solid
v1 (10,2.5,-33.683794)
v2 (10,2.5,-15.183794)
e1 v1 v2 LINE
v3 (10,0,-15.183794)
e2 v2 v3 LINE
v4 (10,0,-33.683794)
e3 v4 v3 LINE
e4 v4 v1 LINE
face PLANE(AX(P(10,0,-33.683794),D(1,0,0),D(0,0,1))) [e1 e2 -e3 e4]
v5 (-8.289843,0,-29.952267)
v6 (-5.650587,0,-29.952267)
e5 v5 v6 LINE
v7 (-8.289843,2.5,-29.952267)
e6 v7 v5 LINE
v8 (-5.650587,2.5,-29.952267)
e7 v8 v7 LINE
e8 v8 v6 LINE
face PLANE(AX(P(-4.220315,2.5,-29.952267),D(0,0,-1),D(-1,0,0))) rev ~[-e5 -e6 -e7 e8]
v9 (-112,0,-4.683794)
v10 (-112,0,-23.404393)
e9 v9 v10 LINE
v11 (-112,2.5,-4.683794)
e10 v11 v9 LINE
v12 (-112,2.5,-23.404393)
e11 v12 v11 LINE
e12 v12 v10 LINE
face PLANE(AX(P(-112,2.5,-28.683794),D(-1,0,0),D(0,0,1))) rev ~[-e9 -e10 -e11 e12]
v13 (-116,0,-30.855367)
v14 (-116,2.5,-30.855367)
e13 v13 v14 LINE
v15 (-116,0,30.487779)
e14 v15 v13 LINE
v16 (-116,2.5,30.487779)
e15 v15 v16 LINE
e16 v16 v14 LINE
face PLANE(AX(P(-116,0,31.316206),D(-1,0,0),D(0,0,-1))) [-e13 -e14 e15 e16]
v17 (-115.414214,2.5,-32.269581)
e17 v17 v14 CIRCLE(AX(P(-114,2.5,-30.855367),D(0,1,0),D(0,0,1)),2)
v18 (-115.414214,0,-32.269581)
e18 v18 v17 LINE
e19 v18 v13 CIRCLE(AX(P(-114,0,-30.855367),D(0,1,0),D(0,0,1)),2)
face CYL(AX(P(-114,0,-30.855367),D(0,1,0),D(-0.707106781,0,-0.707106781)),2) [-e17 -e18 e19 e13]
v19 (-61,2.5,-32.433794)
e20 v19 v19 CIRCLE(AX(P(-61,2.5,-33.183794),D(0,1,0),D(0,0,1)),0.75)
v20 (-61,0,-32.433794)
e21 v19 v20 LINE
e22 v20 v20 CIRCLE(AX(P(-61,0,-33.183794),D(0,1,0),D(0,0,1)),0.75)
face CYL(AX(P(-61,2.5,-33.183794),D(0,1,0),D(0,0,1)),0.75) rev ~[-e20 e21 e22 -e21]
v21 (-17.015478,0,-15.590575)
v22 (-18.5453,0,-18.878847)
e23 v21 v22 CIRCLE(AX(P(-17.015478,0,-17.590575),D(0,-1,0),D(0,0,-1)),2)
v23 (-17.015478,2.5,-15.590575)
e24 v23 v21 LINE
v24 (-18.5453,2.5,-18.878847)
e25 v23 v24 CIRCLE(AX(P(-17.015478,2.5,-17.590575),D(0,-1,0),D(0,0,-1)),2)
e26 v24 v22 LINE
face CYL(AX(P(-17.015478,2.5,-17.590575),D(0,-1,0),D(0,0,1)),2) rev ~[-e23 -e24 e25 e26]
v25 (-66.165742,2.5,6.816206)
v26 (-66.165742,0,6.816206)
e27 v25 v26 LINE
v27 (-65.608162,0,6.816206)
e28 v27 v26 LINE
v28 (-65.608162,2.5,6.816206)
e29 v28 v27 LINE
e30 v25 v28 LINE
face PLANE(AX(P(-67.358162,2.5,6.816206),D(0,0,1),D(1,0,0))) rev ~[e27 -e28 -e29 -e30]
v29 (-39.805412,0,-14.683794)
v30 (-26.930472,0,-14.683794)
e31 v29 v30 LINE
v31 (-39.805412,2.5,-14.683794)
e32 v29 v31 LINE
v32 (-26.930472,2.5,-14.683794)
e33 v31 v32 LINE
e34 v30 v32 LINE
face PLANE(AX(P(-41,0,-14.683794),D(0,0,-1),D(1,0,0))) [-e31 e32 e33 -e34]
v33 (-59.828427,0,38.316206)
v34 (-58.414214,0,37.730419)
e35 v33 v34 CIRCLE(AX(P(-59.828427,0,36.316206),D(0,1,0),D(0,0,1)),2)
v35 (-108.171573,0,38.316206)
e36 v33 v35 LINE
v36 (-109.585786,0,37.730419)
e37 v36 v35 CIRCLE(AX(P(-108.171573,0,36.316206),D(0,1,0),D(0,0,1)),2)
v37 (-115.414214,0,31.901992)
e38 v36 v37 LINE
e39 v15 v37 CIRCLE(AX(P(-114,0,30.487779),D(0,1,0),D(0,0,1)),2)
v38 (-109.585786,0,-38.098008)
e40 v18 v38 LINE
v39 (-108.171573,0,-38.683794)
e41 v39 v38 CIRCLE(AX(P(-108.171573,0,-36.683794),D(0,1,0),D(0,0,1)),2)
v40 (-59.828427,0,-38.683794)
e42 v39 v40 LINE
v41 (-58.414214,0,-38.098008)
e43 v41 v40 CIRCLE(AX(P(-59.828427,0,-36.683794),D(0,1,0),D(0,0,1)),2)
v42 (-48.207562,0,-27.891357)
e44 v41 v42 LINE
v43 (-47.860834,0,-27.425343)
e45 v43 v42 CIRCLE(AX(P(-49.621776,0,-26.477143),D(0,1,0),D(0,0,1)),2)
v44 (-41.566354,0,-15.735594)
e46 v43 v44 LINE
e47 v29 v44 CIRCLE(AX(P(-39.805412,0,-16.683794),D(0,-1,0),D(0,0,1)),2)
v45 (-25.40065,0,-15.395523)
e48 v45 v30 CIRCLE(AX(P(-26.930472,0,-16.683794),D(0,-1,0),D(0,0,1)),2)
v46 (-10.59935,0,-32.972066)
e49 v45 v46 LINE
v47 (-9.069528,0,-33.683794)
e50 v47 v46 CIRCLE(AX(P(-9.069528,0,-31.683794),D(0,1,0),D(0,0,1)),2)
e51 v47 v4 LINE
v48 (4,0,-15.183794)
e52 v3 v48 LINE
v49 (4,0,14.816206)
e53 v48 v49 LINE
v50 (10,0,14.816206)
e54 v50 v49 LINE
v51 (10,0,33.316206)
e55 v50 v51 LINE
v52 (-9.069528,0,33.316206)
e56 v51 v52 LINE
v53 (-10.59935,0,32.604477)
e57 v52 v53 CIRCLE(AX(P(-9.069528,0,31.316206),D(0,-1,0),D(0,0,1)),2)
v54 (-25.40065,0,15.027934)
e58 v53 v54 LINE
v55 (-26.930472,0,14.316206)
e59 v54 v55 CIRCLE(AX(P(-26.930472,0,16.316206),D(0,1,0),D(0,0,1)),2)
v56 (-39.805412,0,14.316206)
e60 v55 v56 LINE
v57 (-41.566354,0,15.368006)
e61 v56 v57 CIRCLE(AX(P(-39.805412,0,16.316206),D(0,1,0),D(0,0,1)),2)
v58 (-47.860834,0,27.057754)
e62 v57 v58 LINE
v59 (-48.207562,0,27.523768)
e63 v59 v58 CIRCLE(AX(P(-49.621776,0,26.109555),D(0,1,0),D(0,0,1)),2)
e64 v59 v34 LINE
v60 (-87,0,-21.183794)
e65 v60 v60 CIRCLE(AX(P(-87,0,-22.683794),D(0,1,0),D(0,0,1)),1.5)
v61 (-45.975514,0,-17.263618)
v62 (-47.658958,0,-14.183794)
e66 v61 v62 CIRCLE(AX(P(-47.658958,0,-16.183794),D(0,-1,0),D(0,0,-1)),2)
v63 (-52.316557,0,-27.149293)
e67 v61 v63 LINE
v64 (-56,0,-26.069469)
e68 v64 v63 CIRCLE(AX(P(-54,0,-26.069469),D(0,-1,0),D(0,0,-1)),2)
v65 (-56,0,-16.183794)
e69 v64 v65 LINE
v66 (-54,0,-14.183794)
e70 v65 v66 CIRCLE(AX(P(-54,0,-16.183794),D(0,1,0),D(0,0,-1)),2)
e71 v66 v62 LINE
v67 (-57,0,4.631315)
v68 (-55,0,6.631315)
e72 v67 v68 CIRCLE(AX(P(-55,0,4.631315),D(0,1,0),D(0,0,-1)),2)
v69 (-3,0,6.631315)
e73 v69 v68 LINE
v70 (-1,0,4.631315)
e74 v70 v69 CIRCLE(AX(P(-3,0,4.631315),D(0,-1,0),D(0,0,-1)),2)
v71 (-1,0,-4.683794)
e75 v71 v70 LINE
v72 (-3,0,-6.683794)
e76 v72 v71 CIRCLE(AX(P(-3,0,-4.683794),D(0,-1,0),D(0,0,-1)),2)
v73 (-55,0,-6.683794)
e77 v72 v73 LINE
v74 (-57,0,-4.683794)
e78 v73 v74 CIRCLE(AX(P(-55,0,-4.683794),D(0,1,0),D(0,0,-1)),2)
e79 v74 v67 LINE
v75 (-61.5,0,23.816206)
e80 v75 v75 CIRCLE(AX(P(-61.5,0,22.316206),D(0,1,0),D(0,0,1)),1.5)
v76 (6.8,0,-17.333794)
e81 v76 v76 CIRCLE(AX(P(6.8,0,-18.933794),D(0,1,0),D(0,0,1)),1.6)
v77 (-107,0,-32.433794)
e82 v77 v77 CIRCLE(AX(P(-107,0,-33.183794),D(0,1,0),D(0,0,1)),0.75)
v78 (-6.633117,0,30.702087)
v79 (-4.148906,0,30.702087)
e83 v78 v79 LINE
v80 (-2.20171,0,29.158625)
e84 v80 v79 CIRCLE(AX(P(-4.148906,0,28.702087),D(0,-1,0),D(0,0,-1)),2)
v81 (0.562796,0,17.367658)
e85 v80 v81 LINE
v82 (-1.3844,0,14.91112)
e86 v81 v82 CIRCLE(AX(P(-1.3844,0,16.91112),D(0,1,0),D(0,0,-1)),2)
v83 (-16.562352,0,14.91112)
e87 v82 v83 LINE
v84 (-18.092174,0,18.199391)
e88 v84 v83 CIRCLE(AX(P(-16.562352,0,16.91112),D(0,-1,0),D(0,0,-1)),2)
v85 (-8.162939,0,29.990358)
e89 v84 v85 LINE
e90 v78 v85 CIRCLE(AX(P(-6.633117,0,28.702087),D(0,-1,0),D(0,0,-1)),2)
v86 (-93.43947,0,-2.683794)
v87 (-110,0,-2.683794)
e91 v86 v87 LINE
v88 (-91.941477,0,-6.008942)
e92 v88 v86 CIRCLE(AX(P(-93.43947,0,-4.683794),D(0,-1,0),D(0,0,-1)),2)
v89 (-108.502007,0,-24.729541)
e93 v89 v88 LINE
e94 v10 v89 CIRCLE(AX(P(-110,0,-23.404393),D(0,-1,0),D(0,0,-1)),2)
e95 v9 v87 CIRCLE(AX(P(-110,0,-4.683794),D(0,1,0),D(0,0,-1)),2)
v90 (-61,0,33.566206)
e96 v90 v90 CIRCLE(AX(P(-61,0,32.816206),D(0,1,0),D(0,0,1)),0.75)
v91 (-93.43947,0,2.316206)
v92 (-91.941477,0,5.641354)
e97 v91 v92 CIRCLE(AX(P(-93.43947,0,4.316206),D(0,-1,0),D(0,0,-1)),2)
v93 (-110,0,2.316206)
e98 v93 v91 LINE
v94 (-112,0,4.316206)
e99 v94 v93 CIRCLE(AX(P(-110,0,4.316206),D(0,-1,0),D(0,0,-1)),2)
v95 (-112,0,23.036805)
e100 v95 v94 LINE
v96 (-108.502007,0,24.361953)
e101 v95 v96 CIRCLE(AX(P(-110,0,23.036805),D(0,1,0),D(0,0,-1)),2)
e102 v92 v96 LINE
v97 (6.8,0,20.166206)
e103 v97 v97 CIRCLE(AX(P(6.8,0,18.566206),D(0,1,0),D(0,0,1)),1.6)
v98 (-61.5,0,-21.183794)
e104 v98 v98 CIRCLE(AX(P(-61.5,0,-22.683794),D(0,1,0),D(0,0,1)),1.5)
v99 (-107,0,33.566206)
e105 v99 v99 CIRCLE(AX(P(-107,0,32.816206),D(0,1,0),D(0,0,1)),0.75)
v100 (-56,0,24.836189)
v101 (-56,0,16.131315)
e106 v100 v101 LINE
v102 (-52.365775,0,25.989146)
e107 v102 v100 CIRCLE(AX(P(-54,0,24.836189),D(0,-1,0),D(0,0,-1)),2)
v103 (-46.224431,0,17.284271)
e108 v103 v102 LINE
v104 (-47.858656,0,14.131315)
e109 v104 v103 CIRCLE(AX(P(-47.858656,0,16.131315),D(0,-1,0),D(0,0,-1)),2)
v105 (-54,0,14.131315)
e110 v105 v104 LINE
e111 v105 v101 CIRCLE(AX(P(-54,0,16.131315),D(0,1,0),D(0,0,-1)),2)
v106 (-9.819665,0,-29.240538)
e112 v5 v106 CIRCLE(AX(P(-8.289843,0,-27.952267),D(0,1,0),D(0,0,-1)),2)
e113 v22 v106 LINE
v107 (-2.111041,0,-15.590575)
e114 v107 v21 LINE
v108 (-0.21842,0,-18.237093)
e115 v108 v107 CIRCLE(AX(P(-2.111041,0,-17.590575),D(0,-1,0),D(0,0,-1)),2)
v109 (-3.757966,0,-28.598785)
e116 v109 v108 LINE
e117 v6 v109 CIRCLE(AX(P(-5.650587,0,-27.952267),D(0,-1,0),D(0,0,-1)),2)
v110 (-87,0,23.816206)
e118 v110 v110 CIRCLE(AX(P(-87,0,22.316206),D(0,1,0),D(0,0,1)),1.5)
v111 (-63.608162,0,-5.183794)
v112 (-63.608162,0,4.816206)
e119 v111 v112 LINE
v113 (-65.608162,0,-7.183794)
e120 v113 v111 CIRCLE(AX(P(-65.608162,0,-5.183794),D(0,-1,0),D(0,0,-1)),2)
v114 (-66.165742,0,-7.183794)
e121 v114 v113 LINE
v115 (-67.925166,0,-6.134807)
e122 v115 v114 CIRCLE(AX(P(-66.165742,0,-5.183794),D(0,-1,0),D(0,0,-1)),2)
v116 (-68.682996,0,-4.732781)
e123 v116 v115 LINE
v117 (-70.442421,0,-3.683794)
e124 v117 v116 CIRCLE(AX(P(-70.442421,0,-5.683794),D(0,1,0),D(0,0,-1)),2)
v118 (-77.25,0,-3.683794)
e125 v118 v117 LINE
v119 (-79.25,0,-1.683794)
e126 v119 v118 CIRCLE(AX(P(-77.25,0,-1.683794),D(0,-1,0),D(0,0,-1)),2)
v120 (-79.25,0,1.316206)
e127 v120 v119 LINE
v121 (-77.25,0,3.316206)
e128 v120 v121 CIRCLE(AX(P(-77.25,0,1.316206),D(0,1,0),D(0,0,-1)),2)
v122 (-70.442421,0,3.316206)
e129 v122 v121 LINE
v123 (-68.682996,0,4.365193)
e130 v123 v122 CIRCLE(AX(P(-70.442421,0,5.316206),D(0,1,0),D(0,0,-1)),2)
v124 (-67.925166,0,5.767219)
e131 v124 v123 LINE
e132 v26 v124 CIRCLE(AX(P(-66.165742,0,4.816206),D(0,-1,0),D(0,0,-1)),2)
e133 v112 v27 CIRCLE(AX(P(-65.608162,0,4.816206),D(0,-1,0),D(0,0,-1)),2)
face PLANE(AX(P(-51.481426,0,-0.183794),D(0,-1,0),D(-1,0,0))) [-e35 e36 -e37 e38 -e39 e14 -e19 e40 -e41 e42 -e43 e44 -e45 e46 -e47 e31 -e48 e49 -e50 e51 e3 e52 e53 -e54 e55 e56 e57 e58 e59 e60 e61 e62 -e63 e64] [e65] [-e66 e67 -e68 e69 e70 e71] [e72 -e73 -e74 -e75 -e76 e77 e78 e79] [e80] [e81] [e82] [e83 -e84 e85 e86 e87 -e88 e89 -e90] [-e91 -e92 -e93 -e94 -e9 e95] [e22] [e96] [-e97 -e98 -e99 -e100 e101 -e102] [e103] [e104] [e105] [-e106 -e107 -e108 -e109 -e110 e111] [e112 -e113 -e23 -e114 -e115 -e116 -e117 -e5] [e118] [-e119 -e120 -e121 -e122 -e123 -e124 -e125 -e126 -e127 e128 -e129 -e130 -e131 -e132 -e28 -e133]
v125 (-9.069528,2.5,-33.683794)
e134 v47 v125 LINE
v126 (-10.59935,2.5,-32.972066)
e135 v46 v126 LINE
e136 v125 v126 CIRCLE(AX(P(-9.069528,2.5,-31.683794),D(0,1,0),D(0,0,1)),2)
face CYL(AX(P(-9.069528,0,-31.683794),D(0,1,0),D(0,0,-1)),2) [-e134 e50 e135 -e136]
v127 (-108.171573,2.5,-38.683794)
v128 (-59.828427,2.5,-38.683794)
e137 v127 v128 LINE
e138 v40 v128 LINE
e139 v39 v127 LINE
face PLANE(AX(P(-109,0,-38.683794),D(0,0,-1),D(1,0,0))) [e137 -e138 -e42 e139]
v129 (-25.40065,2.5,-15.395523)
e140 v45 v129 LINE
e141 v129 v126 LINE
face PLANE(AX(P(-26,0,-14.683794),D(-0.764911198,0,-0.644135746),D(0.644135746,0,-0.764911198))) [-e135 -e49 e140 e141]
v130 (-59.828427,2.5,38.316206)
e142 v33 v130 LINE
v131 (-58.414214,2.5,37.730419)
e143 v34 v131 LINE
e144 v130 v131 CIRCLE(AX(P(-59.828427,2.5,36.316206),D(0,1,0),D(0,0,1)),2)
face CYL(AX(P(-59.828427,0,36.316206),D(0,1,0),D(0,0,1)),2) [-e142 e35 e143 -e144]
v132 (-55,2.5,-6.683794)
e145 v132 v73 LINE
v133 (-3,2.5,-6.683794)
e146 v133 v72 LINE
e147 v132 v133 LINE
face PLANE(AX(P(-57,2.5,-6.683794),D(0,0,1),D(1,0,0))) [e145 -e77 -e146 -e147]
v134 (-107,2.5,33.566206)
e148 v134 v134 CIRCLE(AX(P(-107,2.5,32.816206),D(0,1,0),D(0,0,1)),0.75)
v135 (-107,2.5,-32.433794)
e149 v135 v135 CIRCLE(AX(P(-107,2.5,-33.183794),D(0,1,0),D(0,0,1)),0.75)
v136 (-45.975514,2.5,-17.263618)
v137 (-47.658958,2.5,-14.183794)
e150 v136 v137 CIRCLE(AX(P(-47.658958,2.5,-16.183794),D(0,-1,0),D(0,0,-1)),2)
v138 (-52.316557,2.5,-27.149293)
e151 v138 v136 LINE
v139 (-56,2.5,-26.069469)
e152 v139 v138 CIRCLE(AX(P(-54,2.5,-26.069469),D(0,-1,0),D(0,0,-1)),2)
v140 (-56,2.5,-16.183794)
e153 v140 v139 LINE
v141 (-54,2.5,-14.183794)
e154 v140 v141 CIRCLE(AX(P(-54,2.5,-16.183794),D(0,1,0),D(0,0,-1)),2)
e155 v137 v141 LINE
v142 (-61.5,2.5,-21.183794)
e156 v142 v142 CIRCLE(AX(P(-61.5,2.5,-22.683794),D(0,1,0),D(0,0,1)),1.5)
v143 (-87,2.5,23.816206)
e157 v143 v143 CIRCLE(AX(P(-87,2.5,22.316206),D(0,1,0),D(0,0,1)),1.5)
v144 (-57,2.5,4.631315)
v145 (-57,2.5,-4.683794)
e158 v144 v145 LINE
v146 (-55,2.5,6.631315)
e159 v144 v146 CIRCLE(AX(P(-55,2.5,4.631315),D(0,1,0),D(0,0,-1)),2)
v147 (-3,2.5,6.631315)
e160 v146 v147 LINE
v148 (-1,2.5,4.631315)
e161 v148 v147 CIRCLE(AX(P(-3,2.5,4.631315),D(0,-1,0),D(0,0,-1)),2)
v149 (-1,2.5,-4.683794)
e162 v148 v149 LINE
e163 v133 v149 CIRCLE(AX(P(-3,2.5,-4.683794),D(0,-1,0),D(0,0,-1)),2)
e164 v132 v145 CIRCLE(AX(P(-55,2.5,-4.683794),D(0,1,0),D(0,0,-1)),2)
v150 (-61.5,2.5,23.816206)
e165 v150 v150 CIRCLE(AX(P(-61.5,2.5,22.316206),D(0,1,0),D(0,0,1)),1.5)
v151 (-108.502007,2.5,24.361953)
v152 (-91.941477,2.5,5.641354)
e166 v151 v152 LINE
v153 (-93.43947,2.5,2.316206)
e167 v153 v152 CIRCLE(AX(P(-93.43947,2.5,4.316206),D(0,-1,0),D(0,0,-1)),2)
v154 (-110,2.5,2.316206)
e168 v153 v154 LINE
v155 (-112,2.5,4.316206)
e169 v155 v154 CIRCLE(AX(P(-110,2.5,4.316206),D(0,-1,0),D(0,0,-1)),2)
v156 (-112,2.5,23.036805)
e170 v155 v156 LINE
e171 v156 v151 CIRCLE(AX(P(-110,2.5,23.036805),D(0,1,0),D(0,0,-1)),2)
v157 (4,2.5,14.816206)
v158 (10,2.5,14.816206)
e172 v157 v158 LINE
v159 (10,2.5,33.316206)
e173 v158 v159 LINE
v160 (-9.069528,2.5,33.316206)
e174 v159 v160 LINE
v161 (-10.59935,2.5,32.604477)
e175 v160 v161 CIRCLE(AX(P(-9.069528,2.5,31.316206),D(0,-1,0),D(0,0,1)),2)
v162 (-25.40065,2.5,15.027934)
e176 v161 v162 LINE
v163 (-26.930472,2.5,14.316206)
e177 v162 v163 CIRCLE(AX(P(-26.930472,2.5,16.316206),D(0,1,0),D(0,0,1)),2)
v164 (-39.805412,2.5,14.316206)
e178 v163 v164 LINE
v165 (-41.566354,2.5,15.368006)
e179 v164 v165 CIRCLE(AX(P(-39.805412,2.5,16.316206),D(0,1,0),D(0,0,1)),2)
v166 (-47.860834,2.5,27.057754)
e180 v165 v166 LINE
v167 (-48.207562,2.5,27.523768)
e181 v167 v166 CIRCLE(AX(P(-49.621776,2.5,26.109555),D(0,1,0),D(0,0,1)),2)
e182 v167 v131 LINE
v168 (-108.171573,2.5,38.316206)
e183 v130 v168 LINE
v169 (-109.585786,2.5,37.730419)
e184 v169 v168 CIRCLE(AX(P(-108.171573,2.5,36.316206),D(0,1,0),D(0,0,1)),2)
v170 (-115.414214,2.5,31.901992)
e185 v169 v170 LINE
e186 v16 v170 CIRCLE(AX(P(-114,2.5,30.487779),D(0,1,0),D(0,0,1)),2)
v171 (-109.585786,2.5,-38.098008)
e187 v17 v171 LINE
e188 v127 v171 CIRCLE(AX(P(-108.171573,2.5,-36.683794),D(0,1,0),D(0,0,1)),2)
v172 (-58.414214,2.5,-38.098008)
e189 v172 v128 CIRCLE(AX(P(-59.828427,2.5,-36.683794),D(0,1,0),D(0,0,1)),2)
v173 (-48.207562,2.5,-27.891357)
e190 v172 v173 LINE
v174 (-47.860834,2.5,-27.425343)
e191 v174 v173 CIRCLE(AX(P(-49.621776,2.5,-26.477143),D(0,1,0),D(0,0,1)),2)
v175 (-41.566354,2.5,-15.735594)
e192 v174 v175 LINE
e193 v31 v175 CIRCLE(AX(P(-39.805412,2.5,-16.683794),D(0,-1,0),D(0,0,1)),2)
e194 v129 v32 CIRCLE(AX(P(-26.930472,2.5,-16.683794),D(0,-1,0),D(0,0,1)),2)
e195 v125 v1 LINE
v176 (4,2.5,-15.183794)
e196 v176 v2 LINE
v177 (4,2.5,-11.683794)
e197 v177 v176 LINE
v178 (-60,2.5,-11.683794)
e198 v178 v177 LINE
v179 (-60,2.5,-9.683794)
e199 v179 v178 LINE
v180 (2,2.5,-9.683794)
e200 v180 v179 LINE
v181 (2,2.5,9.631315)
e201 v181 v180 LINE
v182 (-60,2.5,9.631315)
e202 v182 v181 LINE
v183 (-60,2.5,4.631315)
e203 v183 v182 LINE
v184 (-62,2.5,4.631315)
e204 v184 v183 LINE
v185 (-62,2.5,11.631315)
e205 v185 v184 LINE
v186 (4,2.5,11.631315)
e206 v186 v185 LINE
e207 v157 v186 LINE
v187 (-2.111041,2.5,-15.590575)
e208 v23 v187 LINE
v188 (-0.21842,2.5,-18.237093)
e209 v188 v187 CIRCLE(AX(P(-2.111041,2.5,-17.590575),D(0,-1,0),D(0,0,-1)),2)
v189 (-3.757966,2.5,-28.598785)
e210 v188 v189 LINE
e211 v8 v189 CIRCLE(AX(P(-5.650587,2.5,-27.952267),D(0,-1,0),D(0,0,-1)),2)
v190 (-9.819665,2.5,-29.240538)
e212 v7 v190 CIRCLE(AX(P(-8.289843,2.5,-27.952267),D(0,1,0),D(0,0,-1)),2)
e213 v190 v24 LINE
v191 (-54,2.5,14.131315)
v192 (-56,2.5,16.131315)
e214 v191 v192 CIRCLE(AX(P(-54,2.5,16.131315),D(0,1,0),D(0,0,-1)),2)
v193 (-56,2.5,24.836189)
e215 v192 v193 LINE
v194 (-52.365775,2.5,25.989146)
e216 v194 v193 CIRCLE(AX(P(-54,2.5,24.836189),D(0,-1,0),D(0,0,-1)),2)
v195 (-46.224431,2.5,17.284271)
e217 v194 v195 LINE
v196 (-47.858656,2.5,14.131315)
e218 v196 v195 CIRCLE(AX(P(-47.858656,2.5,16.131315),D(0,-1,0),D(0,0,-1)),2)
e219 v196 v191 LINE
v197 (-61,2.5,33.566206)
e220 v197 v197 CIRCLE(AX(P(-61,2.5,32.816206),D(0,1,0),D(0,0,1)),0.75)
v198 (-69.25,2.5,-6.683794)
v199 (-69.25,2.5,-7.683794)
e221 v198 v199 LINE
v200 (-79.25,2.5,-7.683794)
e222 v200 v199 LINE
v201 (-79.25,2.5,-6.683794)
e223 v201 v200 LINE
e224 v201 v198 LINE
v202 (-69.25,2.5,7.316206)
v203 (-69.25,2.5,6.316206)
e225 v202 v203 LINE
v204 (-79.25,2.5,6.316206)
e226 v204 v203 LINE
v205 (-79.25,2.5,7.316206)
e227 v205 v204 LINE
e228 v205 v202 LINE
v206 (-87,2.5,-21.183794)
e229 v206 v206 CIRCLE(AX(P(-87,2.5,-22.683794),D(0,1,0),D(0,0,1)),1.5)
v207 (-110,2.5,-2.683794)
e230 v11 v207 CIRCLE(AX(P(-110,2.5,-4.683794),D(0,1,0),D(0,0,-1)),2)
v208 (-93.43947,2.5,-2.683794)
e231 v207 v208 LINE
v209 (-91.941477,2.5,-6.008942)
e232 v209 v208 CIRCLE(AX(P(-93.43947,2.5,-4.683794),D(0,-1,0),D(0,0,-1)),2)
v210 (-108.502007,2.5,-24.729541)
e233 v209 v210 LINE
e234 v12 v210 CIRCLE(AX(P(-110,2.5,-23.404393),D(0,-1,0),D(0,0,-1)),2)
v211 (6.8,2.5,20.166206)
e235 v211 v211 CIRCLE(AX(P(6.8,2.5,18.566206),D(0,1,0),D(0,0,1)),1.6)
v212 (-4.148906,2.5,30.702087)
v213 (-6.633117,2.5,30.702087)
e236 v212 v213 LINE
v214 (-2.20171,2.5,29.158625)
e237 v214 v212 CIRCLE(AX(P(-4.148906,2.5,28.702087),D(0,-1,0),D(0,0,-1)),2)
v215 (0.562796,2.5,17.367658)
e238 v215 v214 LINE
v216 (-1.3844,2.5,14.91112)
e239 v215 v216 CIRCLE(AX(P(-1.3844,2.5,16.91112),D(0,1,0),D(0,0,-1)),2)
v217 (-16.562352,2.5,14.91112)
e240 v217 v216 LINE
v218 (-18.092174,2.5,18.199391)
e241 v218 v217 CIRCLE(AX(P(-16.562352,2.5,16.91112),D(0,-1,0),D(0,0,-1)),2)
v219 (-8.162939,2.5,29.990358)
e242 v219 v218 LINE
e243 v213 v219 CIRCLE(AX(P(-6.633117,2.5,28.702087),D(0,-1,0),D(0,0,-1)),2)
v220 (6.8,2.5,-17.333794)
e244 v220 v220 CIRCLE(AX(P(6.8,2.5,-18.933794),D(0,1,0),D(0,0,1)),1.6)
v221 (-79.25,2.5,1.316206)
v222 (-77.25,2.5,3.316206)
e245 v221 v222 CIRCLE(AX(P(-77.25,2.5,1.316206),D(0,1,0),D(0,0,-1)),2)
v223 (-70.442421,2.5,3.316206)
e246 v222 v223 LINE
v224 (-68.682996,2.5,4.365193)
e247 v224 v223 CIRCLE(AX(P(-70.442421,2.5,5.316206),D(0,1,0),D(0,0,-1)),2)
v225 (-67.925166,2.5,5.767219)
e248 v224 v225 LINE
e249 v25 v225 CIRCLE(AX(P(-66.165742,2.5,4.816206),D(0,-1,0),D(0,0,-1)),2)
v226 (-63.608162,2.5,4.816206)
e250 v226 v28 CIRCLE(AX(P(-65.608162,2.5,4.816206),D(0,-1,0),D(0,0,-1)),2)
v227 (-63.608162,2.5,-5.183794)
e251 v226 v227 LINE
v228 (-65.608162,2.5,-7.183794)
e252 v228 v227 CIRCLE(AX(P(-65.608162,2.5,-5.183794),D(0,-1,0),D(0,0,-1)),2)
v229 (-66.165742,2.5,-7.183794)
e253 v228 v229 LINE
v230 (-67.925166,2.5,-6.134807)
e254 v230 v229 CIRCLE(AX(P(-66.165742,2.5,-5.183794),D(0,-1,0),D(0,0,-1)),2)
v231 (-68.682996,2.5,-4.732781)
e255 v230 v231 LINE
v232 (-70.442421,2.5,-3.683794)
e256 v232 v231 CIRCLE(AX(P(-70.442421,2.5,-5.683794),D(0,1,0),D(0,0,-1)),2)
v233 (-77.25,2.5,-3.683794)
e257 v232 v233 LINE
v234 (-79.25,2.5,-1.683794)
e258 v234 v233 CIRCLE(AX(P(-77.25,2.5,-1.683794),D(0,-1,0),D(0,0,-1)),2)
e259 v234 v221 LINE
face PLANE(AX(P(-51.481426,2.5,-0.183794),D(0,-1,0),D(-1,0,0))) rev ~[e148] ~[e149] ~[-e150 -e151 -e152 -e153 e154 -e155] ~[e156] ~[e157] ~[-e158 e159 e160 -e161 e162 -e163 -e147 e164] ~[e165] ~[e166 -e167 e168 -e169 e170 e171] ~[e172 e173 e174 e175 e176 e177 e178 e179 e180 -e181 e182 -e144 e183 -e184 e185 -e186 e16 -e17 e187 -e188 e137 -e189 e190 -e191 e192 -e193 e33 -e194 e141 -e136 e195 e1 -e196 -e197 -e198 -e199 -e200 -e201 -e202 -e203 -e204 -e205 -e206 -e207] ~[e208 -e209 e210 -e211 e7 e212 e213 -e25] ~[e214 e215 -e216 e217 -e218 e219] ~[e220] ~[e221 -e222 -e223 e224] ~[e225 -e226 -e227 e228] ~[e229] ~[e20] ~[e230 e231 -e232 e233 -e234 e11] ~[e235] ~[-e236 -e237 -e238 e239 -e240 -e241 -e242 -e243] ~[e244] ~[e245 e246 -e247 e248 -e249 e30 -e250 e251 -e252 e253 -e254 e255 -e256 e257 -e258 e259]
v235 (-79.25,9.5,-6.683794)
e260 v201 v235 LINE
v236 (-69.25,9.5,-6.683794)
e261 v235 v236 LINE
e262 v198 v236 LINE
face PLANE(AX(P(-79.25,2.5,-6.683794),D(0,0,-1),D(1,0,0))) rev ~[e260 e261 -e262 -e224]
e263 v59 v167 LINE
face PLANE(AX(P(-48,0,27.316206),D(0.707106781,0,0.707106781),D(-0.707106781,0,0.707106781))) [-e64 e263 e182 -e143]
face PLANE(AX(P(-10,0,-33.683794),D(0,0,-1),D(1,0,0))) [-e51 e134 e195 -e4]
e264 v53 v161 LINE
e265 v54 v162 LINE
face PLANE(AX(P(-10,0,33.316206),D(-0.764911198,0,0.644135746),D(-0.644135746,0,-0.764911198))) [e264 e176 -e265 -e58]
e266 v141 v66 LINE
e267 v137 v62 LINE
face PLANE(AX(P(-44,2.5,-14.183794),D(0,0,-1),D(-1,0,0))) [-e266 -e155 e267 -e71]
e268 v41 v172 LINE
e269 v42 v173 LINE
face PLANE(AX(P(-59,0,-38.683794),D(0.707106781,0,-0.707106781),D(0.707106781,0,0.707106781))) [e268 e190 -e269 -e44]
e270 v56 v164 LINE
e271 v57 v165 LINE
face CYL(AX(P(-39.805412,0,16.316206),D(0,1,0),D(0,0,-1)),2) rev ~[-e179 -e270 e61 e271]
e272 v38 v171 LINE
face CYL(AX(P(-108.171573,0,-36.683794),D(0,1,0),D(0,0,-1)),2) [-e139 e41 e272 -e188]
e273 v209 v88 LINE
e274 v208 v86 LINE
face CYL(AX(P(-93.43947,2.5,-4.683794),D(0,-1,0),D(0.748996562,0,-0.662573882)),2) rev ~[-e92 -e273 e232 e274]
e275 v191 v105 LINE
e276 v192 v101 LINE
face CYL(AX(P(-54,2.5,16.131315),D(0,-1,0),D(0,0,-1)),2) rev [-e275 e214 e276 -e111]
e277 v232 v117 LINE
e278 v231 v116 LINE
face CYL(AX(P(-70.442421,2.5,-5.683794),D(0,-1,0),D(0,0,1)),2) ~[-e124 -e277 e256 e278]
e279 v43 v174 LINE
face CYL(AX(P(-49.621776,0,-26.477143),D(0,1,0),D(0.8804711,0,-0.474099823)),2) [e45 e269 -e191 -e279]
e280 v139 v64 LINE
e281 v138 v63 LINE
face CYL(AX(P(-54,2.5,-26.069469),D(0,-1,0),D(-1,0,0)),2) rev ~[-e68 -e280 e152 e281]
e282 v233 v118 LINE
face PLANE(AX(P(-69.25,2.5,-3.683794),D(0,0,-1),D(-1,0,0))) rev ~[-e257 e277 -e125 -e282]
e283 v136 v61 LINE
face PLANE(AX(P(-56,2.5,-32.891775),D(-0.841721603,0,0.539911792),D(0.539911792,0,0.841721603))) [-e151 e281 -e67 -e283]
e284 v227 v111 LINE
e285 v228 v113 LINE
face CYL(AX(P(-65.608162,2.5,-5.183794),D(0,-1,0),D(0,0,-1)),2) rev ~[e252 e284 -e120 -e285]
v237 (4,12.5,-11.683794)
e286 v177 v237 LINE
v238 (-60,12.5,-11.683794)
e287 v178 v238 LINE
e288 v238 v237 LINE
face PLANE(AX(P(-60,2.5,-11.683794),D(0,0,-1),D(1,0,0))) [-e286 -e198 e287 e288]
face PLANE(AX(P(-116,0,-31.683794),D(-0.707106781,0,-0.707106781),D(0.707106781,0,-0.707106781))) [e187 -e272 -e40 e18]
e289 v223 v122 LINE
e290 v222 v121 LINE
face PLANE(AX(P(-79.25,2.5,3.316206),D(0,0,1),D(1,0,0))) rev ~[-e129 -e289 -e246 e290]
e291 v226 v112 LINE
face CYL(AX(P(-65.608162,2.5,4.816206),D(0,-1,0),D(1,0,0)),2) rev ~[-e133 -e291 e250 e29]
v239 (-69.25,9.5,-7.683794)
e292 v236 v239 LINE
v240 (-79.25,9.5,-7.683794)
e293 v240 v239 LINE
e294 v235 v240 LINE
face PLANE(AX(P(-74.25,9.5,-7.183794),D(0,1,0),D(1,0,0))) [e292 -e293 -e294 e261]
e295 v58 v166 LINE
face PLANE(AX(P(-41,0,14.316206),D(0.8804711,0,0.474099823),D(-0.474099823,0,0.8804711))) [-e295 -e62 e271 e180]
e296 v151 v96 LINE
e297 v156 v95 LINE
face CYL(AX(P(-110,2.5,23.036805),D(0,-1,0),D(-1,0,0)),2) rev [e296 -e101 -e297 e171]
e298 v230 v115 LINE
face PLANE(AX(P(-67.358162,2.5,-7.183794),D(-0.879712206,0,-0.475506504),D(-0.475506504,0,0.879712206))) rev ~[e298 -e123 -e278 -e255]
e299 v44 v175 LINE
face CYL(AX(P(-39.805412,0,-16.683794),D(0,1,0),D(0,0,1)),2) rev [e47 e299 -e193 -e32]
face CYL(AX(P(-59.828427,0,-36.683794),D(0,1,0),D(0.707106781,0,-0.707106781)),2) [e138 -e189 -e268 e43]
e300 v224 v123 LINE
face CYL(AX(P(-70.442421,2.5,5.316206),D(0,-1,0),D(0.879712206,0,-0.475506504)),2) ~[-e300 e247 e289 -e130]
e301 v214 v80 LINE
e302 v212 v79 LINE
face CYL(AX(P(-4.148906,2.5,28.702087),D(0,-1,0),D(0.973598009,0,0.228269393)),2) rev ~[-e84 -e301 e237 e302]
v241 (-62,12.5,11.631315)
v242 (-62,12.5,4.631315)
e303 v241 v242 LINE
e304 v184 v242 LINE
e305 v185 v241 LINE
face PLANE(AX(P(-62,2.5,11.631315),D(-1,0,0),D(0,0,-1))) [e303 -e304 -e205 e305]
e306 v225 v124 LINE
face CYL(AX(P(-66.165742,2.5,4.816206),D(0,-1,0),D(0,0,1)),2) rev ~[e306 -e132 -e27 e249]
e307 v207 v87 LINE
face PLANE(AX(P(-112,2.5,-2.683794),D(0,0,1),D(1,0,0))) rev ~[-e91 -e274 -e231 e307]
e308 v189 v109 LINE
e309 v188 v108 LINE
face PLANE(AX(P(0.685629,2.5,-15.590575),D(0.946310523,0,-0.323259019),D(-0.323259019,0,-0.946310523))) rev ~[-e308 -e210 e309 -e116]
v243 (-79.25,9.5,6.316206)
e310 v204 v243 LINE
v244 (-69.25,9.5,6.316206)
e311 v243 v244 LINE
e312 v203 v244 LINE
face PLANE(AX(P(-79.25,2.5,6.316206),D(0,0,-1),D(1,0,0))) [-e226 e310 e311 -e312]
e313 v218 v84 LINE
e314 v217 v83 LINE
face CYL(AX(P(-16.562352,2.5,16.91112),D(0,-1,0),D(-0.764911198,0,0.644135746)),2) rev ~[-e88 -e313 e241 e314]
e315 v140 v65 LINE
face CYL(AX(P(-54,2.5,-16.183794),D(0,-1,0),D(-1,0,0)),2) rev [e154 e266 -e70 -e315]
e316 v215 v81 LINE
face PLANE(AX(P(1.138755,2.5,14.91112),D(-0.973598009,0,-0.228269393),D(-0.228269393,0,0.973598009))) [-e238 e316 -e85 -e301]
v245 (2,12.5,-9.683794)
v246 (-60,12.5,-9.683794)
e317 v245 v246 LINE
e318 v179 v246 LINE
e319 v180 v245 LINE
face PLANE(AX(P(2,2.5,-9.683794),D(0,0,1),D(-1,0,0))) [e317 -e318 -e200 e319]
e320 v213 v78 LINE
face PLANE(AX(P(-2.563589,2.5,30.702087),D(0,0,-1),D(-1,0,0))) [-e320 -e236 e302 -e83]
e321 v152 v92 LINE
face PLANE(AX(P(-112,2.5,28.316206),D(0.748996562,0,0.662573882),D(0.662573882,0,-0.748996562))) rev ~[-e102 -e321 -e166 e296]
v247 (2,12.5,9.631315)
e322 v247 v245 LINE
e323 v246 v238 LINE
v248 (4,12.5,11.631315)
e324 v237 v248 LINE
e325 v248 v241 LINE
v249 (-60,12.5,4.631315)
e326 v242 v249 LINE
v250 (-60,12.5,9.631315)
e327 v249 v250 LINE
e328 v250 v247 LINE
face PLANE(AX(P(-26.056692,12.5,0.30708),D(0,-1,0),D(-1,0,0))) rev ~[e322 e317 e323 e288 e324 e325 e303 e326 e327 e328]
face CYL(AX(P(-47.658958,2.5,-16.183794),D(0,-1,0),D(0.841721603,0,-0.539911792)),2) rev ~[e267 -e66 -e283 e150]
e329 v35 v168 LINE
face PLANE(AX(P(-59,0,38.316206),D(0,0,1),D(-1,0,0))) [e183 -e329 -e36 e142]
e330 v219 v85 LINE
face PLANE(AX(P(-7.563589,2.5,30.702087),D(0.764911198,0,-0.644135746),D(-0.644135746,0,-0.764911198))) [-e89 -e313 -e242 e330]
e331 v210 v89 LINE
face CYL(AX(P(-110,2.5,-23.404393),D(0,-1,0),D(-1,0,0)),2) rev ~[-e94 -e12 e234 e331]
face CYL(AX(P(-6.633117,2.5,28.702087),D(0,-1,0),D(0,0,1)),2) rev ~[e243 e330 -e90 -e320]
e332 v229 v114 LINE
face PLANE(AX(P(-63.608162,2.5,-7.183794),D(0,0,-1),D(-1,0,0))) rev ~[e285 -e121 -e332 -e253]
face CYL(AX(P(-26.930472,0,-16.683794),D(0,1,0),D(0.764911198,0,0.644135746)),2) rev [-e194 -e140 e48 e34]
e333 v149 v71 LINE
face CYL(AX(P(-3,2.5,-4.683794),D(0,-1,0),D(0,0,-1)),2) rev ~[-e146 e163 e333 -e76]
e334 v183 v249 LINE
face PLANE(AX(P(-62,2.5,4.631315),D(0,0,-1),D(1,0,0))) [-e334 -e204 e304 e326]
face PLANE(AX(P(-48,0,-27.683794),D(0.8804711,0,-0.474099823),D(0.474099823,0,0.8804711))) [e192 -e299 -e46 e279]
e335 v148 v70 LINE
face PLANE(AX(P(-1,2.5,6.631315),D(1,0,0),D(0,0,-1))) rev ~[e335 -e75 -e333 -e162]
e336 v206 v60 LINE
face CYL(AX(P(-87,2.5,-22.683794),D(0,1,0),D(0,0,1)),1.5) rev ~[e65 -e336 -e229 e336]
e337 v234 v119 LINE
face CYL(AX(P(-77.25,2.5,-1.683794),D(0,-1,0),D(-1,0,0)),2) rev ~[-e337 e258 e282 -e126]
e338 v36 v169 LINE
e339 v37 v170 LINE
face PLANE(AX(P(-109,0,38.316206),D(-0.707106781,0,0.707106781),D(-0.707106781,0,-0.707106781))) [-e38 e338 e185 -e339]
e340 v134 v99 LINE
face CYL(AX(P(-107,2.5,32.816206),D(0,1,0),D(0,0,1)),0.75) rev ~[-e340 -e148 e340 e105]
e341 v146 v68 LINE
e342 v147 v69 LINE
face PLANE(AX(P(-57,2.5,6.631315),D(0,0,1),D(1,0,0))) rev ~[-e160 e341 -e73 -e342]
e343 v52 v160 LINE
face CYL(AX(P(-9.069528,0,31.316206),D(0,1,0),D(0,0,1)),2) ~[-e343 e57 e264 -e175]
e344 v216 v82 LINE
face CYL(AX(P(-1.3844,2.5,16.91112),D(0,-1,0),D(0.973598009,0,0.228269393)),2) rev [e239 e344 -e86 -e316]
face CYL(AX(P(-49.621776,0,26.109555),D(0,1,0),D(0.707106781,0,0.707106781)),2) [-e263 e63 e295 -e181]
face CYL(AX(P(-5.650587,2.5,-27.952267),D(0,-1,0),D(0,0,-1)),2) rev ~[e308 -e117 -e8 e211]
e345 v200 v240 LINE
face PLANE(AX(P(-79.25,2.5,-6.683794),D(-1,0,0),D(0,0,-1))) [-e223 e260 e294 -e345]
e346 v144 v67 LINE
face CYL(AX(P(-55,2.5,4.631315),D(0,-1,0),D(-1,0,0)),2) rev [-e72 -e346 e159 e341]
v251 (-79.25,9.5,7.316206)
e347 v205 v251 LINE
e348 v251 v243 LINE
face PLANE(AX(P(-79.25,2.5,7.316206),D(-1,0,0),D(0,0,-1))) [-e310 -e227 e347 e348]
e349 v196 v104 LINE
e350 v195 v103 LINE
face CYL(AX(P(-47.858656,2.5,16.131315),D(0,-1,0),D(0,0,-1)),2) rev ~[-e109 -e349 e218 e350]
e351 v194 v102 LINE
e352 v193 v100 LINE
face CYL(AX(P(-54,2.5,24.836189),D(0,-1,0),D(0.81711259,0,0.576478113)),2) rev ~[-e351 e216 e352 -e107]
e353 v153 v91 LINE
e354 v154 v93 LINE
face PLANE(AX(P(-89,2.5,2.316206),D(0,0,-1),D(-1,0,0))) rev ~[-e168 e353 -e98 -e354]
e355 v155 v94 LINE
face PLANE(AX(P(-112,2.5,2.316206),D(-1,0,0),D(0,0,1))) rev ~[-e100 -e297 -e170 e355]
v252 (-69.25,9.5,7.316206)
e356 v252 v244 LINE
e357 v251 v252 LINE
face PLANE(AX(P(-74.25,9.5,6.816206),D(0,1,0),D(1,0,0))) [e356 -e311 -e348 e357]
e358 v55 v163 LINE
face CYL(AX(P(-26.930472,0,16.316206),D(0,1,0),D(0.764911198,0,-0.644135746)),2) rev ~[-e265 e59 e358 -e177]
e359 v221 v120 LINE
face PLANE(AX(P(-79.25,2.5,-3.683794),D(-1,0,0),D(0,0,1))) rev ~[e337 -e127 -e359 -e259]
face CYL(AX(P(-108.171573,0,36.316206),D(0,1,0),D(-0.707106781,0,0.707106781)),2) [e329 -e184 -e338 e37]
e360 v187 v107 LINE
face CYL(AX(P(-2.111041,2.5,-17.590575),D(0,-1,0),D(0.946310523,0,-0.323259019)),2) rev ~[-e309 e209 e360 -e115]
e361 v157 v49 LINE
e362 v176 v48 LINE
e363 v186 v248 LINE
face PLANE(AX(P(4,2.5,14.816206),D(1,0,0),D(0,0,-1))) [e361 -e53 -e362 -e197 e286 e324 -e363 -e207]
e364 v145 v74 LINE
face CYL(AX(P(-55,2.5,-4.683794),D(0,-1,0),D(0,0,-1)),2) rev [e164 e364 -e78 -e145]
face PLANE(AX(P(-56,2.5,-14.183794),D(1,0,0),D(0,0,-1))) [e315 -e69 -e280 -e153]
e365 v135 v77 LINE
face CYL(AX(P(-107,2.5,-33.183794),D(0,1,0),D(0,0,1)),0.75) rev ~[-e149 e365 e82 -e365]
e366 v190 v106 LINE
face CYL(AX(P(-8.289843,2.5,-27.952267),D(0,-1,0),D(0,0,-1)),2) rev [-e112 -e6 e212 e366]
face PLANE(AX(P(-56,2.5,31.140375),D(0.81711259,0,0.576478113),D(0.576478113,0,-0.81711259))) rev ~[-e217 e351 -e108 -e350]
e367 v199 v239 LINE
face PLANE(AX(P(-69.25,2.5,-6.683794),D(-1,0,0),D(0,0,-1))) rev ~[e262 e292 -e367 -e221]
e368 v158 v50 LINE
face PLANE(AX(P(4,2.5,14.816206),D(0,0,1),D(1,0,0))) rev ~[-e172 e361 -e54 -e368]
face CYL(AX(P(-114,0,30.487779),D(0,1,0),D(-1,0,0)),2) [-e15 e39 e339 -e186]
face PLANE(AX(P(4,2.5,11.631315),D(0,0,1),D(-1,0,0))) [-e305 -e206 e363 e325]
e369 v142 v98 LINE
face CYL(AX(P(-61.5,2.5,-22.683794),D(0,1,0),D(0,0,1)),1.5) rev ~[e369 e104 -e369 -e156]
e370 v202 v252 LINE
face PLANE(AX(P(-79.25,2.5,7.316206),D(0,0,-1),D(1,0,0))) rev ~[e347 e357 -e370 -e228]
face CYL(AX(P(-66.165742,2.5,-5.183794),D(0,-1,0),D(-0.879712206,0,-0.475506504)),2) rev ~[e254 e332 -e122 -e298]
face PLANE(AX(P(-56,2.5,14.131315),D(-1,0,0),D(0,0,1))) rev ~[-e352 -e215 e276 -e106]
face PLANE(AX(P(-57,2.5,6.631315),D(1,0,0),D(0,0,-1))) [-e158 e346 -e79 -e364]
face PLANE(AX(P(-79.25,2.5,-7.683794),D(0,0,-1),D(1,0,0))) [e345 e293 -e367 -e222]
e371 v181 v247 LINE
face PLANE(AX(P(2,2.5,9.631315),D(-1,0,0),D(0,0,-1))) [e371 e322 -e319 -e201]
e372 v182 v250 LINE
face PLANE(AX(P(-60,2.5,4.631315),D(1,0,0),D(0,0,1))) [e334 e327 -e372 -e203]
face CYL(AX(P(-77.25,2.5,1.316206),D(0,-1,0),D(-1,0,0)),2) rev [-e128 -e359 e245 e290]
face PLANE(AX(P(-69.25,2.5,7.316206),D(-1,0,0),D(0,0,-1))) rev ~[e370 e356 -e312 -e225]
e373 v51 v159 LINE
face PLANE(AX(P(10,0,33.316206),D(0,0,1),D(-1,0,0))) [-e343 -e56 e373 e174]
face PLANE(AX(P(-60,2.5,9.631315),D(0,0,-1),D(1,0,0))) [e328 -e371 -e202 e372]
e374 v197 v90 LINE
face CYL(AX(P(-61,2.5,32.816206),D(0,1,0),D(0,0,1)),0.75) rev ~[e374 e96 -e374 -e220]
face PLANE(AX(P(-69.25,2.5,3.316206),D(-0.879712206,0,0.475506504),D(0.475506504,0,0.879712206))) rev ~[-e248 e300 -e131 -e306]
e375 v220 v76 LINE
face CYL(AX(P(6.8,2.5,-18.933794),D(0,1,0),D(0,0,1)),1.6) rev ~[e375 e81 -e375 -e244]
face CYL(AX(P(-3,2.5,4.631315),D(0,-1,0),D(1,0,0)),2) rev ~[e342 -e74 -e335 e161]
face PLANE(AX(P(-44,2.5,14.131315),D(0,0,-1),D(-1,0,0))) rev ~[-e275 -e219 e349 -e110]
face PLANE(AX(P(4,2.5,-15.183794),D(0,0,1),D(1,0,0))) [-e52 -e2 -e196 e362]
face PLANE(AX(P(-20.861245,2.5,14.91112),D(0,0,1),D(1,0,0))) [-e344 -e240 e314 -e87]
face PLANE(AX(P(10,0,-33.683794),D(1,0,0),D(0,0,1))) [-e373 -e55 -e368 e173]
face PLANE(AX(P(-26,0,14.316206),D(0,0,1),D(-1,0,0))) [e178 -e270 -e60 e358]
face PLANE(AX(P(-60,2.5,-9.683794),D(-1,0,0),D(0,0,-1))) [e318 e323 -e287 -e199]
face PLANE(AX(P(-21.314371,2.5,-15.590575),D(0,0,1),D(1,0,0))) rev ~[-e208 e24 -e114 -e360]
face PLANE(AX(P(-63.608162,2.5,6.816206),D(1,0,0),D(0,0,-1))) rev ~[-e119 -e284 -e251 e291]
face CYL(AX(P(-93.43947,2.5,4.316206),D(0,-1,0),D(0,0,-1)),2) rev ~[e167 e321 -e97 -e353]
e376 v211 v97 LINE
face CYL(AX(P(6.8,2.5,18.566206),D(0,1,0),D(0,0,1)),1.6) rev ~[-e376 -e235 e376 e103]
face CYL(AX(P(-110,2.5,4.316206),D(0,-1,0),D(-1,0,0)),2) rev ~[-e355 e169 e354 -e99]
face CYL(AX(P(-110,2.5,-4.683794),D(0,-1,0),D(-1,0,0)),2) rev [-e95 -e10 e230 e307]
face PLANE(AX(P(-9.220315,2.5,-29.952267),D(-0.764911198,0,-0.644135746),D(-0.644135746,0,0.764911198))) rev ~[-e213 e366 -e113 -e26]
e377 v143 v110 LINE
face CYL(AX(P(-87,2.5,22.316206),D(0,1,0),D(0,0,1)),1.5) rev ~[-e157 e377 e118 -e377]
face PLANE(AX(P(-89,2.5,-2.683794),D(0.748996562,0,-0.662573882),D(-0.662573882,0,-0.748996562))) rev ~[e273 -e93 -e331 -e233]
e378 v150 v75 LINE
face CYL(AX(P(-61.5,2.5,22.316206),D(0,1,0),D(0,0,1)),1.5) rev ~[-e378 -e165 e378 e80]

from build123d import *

# Parameters (mm, degrees)
BOSS_EXTRUDE1_DEPTH = 2.5
SKETCH2_R           = 1.6
CUT_EXTRUDE1_DEPTH  = 2.5
SKETCH3_R           = 0.75
CUT_EXTRUDE2_DEPTH  = 2.5
SKETCH4_W           = 6
SKETCH4_H           = 30
CUT_EXTRUDE3_DEPTH  = 10
SKETCH5_R           = 1.5
CUT_EXTRUDE4_DEPTH  = 10
BOSS_EXTRUDE2_DEPTH = 10
SKETCH7_W           = 10
SKETCH7_H           = 1
BOSS_EXTRUDE3_DEPTH = 7
SKETCH8_W           = 56
SKETCH8_H           = 13.315108835
CUT_EXTRUDE5_DEPTH  = 7
FILLET1_R           = 2
CUT_EXTRUDE6_DEPTH  = 7
FILLET3_R           = 2
CUT_EXTRUDE7_DEPTH  = 7
FILLET6_R           = 2
CUT_EXTRUDE8_DEPTH  = 7
FILLET7_R           = 2
CUT_EXTRUDE9_DEPTH  = 7
FILLET8_R           = 2
FILLET9_R           = 2


with BuildPart() as part:
    # Sketch1 → Boss-Extrude1 (new body)
    with BuildSketch(Plane(origin=(0, 0, 0), x_dir=(1, 0, 0), z_dir=(0, 1, 0))):
        Polygon((-10, 33.683794085), (10, 33.683794085), (10, -33.316205915), (-10, -33.316205915), (-26, -14.316205915), (-41, -14.316205915), (-48, -27.316205915), (-59, -38.316205915), (-109, -38.316205915), (-116, -31.316205915), (-116, 31.683794085), (-109, 38.683794085), (-59, 38.683794085), (-48, 27.683794085), (-41, 14.683794085), (-26, 14.683794085), align=None)
    extrude(amount=BOSS_EXTRUDE1_DEPTH)

    # Sketch2 → Cut-Extrude1 (cut)
    with BuildSketch(Plane(origin=(0, 2.5, 0), x_dir=(1, 0, 0), z_dir=(0, 1, 0))):
        with Locations(Location((6.8, 18.933794085, 0), (0, 0, 270))):
            Circle(SKETCH2_R)
        with Locations(Location((6.8, -18.566205915, 0), (0, 0, 270))):
            Circle(SKETCH2_R)
    extrude(amount=-CUT_EXTRUDE1_DEPTH, mode=Mode.SUBTRACT)

    # Sketch3 → Cut-Extrude2 (cut)
    with BuildSketch(Plane(origin=(0, 2.5, 0), x_dir=(1, 0, 0), z_dir=(0, 1, 0))):
        with Locations(Location((-107, 33.183794085, 0), (0, 0, 270))):
            Circle(SKETCH3_R)
        with Locations(Location((-61, 33.183794085, 0), (0, 0, 270))):
            Circle(SKETCH3_R)
        with Locations(Location((-61, -32.816205915, 0), (0, 0, 270))):
            Circle(SKETCH3_R)
        with Locations(Location((-107, -32.816205915, 0), (0, 0, 270))):
            Circle(SKETCH3_R)
    extrude(amount=-CUT_EXTRUDE2_DEPTH, mode=Mode.SUBTRACT)

    # Sketch4 → Cut-Extrude3 (cut)
    with BuildSketch(Plane(origin=(0, 2.5, 0), x_dir=(1, 0, 0), z_dir=(0, 1, 0))):
        with Locations((7, 0.183794085)):
            Rectangle(SKETCH4_W, SKETCH4_H)
    extrude(amount=-CUT_EXTRUDE3_DEPTH, mode=Mode.SUBTRACT)

    # Sketch5 → Cut-Extrude4 (cut)
    with BuildSketch(Plane(origin=(0, 2.5, 0), x_dir=(1, 0, 0), z_dir=(0, 1, 0))):
        with Locations(Location((-87, 22.683794085, 0), (0, 0, 270))):
            Circle(SKETCH5_R)
        with Locations(Location((-61.5, 22.683794085, 0), (0, 0, 270))):
            Circle(SKETCH5_R)
        with Locations(Location((-61.5, -22.316205915, 0), (0, 0, 270))):
            Circle(SKETCH5_R)
        with Locations(Location((-87, -22.316205915, 0), (0, 0, 270))):
            Circle(SKETCH5_R)
    extrude(amount=-CUT_EXTRUDE4_DEPTH, mode=Mode.SUBTRACT)

    # Sketch6 → Boss-Extrude2 (add)
    with BuildSketch(Plane(origin=(0, 2.5, 0), x_dir=(1, 0, 0), z_dir=(0, 1, 0))):
        Polygon((4, -11.63131475), (-62, -11.63131475), (-62, -4.63131475), (-60, -4.63131475), (-60, -9.63131475), (2, -9.63131475), (2, 9.683794085), (-60, 9.683794085), (-60, 11.683794085), (4, 11.683794085), align=None)
    extrude(amount=BOSS_EXTRUDE2_DEPTH)

    # Sketch7 → Boss-Extrude3 (add)
    with BuildSketch(Plane(origin=(0, 2.5, 0), x_dir=(1, 0, 0), z_dir=(0, 1, 0))):
        with Locations((-74.25, 7.183794085)):
            Rectangle(SKETCH7_W, SKETCH7_H)
        with Locations((-74.25, -6.816205915)):
            Rectangle(SKETCH7_W, SKETCH7_H)
    extrude(amount=BOSS_EXTRUDE3_DEPTH)

    # Sketch8 → Cut-Extrude5 (cut)
    with BuildSketch(Plane(origin=(0, 2.5, 0), x_dir=(1, 0, 0), z_dir=(0, 1, 0))):
        with Locations((-29, 0.026239668)):
            Rectangle(SKETCH8_W, SKETCH8_H)
    extrude(amount=-CUT_EXTRUDE5_DEPTH, mode=Mode.SUBTRACT)

    # Fillet1
    fillet1_edges = [part.edges().sort_by_distance(p)[0] for p in [
        (-10, 1.25, 33.316205915),
        (-26, 1.25, 14.316205915),
        (-41, 1.25, 14.316205915),
        (-48, 1.25, 27.316205915),
        (-59, 1.25, 38.316205915),
        (-109, 1.25, 38.316205915),
        (-116, 1.25, 31.316205915),
        (-116, 1.25, -31.683794085),
        (-109, 1.25, -38.683794085),
        (-59, 1.25, -38.683794085),
        (-48, 1.25, -27.683794085),
        (-41, 1.25, -14.683794085),
        (-26, 1.25, -14.683794085),
        (-10, 1.25, -33.683794085),
    ]]
    fillet(fillet1_edges, radius=FILLET1_R)

    # Sketch9 → Cut-Extrude6 (cut)
    with BuildSketch(Plane(origin=(0, 2.5, 0), x_dir=(1, 0, 0), z_dir=(0, 1, 0))):
        Polygon((-79.25, 3.683794085), (-79.25, -3.316205915), (-69.25, -3.316205915), (-67.358162245, -6.816205915), (-63.608162245, -6.816205915), (-63.608162245, 7.183794085), (-67.358162245, 7.183794085), (-69.25, 3.683794085), align=None)
    extrude(amount=-CUT_EXTRUDE6_DEPTH, mode=Mode.SUBTRACT)

    # Fillet3
    fillet3_edges = [part.edges().sort_by_distance(p)[0] for p in [
        (-79.25, 1.25, -3.683794085),
        (-69.25, 1.25, -3.683794085),
        (-67.358162245, 1.25, -7.183794085),
        (-63.608162245, 1.25, -7.183794085),
        (-63.608162245, 1.25, 6.816205915),
        (-67.358162245, 1.25, 6.816205915),
        (-69.25, 1.25, 3.316205915),
        (-79.25, 1.25, 3.316205915),
    ]]
    fillet(fillet3_edges, radius=FILLET3_R)

    # Sketch10 → Cut-Extrude7 (cut)
    with BuildSketch(Plane(origin=(0, 2.5, 0), x_dir=(1, 0, 0), z_dir=(0, 1, 0))):
        Polygon((-44, -14.13131475), (-56, -14.13131475), (-56, -31.14037523), align=None)
        Polygon((-44, 14.183794085), (-56, 14.183794085), (-56, 32.891774512), align=None)
    extrude(amount=-CUT_EXTRUDE7_DEPTH, mode=Mode.SUBTRACT)

    # Fillet6
    fillet6_edges = [part.edges().sort_by_distance(p)[0] for p in [
        (-44, 1.25, 14.13131475),
        (-56, 1.25, 31.14037523),
        (-56, 1.25, 14.13131475),
        (-56, 1.25, -32.891774512),
        (-44, 1.25, -14.183794085),
        (-56, 1.25, -14.183794085),
    ]]
    fillet(fillet6_edges, radius=FILLET6_R)

    # Sketch11 → Cut-Extrude8 (cut)
    with BuildSketch(Plane(origin=(0, 2.5, 0), x_dir=(1, 0, 0), z_dir=(0, 1, 0))):
        Polygon((-4.220314933, 29.952266722), (-9.220314933, 29.952266722), (-21.314371027, 15.59057511), (0.685628973, 15.59057511), align=None)
        Polygon((-20.861245147, -14.911119692), (1.138754853, -14.911119692), (-2.563588823, -30.702086576), (-7.563588823, -30.702086576), align=None)
    extrude(amount=-CUT_EXTRUDE8_DEPTH, mode=Mode.SUBTRACT)

    # Fillet7
    fillet7_edges = [part.edges().sort_by_distance(p)[0] for p in [
        (-4.220314933, 1.25, -29.952266722),
        (0.685628973, 1.25, -15.59057511),
        (-21.314371027, 1.25, -15.59057511),
        (-9.220314933, 1.25, -29.952266722),
        (-7.563588823, 1.25, 30.702086576),
        (-20.861245147, 1.25, 14.911119692),
        (1.138754853, 1.25, 14.911119692),
        (-2.563588823, 1.25, 30.702086576),
    ]]
    fillet(fillet7_edges, radius=FILLET7_R)

    # Sketch12 → Cut-Extrude9 (cut)
    with BuildSketch(Plane(origin=(0, 2.5, 0), x_dir=(1, 0, 0), z_dir=(0, 1, 0))):
        Polygon((-112, 28.683794085), (-112, 2.683794085), (-89, 2.683794085), align=None)
        Polygon((-112, -2.316205915), (-112, -28.316205915), (-89, -2.316205915), align=None)
    extrude(amount=-CUT_EXTRUDE9_DEPTH, mode=Mode.SUBTRACT)

    # Fillet8
    fillet8_edges = [part.edges().sort_by_distance(p)[0] for p in [
        (-112, 1.25, -28.683794085),
        (-89, 1.25, -2.683794085),
        (-112, 1.25, -2.683794085),
        (-112, 1.25, 2.316205915),
        (-89, 1.25, 2.316205915),
        (-112, 1.25, 28.316205915),
    ]]
    fillet(fillet8_edges, radius=FILLET8_R)

    # Fillet9
    fillet9_edges = [part.edges().sort_by_distance(p)[0] for p in [
        (-57, 1.25, 6.63131475),
        (-57, 1.25, -6.683794085),
        (-1, 1.25, -6.683794085),
        (-1, 1.25, 6.63131475),
    ]]
    fillet(fillet9_edges, radius=FILLET9_R)


solid = part.part
